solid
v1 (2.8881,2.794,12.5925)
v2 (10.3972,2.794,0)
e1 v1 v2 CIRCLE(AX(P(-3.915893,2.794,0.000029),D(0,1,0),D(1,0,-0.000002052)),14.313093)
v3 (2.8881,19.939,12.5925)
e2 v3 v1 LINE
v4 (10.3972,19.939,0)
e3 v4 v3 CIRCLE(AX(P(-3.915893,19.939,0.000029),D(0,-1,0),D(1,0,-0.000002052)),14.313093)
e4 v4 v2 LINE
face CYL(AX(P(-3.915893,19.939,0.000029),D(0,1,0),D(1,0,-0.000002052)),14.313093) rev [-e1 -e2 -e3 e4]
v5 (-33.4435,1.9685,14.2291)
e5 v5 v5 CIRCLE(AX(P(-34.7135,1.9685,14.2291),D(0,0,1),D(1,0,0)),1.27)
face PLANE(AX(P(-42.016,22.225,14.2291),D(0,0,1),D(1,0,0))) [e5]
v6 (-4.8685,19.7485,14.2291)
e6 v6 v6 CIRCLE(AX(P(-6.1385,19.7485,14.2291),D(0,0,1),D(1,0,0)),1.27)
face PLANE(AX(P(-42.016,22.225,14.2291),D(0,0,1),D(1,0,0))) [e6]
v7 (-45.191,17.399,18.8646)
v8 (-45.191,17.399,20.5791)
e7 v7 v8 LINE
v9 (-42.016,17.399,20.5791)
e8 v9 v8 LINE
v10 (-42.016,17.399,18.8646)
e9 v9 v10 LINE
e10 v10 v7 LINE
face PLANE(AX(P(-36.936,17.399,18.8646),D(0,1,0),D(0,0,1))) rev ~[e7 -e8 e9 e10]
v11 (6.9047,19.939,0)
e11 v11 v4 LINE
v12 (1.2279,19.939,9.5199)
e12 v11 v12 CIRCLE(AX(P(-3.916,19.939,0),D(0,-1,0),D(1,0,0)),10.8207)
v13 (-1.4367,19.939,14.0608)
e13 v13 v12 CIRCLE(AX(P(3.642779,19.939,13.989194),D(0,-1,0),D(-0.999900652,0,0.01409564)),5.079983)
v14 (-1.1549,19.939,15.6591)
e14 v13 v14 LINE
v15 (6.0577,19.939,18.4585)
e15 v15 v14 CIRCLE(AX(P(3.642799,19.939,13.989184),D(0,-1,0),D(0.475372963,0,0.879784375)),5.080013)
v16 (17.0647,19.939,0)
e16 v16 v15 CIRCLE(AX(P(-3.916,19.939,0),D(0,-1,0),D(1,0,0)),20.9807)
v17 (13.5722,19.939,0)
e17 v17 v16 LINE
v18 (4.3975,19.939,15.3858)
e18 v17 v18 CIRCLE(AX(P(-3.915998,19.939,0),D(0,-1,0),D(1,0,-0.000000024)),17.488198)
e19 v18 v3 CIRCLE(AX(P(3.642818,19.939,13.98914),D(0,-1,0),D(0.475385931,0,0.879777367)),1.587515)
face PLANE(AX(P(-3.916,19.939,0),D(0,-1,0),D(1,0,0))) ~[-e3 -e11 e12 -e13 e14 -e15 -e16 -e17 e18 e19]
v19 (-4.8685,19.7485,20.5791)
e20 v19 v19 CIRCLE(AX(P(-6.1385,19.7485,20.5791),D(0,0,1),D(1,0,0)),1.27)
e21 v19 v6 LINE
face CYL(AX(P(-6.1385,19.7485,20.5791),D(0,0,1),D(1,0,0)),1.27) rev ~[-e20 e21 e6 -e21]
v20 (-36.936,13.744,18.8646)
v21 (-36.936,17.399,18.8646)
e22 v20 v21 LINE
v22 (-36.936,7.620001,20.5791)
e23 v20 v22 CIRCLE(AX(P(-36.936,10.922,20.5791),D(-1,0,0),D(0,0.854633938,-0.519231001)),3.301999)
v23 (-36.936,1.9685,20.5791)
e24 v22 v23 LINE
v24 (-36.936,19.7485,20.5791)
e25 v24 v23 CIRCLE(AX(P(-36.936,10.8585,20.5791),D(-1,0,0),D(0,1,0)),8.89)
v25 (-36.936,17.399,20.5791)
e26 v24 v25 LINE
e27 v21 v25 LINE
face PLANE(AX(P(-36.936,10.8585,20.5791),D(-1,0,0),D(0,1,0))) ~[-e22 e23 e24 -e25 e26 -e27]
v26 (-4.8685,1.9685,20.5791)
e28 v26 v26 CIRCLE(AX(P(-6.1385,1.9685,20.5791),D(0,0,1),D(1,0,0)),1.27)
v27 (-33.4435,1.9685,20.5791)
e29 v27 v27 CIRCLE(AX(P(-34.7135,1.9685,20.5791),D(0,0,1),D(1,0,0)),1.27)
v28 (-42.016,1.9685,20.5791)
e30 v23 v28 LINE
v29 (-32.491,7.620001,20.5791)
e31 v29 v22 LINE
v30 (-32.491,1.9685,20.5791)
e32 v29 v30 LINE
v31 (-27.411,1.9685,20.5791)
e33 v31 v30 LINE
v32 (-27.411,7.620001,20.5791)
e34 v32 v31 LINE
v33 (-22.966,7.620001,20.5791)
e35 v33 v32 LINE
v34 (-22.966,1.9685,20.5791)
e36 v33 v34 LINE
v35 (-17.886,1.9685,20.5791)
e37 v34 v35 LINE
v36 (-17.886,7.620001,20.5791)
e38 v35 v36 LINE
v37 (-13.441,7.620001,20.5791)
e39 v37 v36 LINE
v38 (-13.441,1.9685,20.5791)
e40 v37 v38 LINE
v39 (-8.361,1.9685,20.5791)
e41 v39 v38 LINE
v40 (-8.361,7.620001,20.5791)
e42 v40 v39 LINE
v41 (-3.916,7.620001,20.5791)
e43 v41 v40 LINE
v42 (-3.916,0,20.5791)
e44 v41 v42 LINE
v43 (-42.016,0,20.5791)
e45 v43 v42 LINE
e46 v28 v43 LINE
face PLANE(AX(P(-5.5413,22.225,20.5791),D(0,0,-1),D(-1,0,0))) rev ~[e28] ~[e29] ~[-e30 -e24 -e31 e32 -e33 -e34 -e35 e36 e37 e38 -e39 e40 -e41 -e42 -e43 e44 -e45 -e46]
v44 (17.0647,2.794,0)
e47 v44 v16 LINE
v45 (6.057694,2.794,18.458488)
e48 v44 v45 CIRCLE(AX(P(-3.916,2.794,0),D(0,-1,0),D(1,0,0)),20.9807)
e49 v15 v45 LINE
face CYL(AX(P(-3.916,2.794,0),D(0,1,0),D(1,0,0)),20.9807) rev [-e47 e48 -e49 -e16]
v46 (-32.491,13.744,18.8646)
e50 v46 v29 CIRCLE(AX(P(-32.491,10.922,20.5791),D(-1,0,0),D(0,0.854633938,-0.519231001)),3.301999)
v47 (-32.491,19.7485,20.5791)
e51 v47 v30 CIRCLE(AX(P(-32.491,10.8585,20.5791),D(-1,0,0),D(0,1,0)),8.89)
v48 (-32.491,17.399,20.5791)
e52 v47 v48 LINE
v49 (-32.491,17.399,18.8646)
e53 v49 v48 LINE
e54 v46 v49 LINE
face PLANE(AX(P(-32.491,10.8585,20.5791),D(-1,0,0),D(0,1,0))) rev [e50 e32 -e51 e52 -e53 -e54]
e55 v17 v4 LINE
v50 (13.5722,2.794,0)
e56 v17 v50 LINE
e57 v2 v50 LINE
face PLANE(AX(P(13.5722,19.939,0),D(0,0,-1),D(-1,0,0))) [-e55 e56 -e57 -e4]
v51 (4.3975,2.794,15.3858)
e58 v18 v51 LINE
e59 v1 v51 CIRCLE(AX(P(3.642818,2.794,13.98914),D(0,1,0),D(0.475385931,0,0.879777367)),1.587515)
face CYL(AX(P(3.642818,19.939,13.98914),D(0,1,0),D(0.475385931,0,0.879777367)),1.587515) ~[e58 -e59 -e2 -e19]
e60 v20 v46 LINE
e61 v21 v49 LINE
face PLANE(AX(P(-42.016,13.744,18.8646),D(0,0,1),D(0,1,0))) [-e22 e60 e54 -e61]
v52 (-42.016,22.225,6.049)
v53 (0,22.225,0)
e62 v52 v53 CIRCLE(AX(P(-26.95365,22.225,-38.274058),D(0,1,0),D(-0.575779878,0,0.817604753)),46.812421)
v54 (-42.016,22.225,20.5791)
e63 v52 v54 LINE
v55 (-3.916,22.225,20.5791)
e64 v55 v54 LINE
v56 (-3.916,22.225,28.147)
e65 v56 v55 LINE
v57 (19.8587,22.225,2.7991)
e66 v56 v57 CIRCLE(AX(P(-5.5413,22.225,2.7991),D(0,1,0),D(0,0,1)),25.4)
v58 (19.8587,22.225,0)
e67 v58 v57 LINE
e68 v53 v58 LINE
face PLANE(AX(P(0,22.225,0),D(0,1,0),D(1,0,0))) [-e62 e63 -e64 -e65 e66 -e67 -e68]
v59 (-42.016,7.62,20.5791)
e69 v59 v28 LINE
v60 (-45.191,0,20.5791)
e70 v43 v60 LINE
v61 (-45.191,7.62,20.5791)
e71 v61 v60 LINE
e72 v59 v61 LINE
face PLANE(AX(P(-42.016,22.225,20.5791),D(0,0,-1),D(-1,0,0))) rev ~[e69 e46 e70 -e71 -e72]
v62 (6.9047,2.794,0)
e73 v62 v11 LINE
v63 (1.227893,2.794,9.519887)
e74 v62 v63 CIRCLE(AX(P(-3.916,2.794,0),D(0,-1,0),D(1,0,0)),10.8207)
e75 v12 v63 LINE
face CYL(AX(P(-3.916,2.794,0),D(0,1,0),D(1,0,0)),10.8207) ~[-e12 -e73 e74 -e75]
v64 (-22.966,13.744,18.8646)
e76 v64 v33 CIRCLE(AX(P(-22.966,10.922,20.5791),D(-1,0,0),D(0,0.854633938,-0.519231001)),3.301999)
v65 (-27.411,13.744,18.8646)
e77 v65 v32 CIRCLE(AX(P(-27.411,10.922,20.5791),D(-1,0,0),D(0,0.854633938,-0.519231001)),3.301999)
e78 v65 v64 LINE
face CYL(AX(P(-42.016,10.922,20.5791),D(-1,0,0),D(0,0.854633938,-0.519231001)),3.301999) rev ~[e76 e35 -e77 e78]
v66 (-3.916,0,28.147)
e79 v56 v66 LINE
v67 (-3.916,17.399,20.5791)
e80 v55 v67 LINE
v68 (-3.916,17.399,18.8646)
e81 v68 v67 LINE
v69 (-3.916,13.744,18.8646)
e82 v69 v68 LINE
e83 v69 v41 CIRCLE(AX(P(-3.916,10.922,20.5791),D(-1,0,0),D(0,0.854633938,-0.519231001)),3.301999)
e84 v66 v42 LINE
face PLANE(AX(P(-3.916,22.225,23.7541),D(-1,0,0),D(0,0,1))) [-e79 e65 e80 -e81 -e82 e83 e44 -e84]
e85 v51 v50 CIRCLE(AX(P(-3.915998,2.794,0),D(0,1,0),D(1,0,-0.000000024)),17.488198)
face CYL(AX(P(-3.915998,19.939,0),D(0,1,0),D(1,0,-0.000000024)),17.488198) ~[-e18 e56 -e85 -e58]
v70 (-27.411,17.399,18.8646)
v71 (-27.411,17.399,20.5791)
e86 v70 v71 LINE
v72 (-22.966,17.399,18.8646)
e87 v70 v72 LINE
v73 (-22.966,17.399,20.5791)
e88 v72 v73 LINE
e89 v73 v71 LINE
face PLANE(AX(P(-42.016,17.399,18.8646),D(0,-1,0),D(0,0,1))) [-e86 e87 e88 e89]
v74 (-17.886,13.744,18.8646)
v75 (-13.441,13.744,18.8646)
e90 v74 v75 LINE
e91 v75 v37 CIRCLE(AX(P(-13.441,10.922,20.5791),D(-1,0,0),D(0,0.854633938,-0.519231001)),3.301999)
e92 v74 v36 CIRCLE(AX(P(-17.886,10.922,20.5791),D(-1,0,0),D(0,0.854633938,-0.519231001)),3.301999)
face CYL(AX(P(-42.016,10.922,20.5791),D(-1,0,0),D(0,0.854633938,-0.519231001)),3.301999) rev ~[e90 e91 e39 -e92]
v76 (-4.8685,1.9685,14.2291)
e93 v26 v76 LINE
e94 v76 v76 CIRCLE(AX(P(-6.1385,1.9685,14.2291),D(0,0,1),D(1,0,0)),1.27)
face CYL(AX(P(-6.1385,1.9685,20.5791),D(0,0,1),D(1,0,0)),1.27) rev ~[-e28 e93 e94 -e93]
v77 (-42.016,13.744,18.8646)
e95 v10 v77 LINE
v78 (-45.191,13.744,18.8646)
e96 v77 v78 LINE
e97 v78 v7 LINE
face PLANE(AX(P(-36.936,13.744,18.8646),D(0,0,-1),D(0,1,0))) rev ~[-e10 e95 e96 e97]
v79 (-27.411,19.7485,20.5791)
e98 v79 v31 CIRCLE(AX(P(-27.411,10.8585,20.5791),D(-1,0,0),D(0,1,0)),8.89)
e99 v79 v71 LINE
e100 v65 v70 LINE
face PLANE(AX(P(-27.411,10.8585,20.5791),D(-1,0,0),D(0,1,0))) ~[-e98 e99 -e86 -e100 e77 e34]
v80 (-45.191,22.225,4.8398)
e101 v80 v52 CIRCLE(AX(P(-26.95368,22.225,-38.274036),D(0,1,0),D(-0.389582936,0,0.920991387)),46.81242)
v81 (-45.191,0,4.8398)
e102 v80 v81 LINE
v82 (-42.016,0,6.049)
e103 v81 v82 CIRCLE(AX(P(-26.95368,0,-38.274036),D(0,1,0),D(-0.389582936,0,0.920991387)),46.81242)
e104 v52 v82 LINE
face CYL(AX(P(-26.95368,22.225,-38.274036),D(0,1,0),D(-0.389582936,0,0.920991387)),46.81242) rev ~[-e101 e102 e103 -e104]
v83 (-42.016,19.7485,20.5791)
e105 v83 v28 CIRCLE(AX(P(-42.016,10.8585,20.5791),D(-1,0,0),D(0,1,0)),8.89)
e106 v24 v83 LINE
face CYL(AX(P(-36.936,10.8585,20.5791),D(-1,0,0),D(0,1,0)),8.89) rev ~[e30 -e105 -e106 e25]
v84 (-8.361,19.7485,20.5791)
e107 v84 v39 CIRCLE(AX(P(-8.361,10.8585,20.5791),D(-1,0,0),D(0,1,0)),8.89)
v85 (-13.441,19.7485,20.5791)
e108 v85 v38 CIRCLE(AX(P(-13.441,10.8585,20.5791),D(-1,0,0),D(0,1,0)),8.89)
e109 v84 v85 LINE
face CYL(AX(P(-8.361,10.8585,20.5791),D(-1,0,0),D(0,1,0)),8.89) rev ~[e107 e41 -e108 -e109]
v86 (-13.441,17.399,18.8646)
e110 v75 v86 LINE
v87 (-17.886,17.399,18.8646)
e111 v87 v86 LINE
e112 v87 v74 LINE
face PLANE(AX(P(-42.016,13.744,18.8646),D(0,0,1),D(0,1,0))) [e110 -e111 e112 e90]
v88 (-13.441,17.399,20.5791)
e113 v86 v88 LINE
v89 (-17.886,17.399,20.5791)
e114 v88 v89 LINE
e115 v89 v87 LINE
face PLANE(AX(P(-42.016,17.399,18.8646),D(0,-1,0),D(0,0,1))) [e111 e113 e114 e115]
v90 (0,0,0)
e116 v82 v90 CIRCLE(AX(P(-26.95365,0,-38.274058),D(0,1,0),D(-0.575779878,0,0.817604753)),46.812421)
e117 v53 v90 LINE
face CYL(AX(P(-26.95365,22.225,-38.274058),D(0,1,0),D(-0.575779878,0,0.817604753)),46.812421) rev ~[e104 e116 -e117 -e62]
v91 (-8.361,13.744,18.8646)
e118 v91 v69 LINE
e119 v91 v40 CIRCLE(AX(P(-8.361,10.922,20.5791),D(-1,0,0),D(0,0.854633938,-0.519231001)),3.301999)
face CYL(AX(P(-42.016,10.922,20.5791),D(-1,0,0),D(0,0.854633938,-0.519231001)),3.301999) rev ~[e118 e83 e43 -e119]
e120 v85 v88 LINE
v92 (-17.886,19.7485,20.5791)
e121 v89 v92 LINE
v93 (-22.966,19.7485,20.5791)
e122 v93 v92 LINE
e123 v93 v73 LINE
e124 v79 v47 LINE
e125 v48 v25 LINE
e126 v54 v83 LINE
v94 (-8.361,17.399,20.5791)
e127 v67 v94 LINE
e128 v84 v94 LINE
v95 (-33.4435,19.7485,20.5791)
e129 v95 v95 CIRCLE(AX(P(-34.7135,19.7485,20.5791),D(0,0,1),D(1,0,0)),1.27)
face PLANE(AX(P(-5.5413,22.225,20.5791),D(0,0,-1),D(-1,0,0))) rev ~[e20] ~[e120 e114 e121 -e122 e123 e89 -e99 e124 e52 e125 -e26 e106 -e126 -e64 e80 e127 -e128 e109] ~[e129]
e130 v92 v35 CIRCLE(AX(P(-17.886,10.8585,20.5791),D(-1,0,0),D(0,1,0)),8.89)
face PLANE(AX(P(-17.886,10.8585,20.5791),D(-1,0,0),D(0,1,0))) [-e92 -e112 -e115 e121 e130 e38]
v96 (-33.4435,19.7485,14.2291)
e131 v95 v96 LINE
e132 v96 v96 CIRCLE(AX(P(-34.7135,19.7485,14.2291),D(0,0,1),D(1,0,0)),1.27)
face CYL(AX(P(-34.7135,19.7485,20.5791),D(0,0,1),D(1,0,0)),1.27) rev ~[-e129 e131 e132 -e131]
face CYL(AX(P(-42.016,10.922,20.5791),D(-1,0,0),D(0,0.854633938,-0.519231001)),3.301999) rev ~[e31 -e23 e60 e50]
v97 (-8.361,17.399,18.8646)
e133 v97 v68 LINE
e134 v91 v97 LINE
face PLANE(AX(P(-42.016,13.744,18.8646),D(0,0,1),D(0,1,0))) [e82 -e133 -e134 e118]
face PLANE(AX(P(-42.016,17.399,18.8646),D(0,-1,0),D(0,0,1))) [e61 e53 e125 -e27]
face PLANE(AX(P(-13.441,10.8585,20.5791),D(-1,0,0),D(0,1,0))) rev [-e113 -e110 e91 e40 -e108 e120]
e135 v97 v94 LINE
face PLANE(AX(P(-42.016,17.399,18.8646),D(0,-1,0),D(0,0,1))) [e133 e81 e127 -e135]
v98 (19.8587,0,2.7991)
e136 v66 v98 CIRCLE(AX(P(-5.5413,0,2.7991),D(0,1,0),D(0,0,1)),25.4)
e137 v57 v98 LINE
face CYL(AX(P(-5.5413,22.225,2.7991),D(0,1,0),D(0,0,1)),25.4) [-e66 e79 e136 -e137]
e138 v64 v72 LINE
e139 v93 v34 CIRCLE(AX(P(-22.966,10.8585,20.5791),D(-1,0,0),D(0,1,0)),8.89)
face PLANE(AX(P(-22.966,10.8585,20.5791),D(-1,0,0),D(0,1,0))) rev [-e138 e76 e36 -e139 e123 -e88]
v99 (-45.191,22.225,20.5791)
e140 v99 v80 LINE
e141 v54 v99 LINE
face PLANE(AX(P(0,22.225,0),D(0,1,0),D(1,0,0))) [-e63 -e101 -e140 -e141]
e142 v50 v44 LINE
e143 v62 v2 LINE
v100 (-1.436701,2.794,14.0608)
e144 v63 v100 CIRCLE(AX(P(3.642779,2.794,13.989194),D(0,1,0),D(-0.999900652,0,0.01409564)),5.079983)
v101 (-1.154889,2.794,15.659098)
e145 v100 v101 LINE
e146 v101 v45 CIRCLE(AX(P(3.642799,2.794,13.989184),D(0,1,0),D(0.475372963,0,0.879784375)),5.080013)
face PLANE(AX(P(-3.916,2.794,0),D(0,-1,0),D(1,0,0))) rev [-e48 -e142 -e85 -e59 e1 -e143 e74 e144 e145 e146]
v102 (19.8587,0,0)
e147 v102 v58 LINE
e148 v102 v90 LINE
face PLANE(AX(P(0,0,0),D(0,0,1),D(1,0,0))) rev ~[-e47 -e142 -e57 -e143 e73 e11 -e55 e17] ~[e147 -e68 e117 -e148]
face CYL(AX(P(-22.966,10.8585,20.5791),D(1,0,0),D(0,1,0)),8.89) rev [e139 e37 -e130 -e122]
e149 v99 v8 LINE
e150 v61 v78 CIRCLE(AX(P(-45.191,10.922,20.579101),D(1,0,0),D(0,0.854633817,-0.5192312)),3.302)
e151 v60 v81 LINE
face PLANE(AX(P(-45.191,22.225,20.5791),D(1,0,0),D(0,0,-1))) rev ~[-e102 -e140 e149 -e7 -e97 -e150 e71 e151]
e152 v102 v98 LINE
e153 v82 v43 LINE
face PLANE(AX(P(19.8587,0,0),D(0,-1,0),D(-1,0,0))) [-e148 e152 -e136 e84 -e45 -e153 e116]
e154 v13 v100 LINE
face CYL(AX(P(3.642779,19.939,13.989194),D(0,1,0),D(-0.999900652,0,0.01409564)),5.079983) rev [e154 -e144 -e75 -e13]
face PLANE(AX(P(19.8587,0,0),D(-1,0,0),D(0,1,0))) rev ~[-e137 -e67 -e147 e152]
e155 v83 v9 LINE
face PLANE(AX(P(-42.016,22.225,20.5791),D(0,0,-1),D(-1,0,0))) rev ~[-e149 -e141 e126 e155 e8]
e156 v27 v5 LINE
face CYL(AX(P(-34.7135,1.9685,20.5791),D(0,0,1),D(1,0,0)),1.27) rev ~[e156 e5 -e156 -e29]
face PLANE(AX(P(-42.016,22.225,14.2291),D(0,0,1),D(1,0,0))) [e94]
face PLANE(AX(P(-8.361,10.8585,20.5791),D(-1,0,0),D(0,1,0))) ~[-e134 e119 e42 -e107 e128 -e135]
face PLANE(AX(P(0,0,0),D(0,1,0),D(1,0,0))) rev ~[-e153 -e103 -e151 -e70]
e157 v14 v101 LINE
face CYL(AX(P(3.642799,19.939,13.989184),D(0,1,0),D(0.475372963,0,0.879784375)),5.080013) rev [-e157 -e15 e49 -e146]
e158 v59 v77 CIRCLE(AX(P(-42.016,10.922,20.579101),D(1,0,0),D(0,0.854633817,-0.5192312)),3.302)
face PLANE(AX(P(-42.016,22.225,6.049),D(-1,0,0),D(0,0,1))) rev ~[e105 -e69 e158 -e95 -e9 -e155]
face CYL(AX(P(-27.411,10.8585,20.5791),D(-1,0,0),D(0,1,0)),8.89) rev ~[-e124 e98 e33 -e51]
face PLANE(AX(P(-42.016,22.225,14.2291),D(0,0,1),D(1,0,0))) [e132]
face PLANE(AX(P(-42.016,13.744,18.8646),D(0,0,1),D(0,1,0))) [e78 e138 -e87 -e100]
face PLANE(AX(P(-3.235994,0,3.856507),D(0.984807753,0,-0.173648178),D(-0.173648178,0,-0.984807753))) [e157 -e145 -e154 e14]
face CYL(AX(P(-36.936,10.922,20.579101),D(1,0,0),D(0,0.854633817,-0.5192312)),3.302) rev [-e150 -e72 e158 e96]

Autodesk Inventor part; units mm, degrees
ref_plane "YZ Plane" through (0, 0, 0) normal (1, 0, 0) x (0, 1, 0)
ref_plane "XZ Plane" through (0, 0, 0) normal (0, 1, 0) x (-1, 0, 0)
sketch "Sketch1" plane through (0, 0, 0) normal (0, 0, 1) x (1, 0, 0)
  circle A0 centre (12.2387, 16.51) radius 2.54 projected
  line L0 (19.8587, 0) -> (0, 0) projected
  line L1 (19.8587, 0) -> (19.8587, 22.225) projected
  line L2 (0, 22.225) -> (19.8587, 22.225) projected
  line L3 (0, 0) -> (0, 22.225) projected
  line L4 (-42.016, 22.225) -> (-42.016, 0) projected
  line L5 (-42.016, 22.225) -> (19.8587, 22.225)
  line L6 (19.8587, 22.225) -> (19.8587, 0)
  line L7 (19.8587, 0) -> (-42.016, 0)
  line L8 (-42.016, 0) -> (-42.016, 22.225)
ref_plane "Work Plane1" through (-48.366, 22.225, 28.1991) normal (0, 0, 1) x (1, 0, 0)
extrude "Extrusion1" add sketch "Sketch1" along normal up to surface (28.1991 mm away) contours A0 | L0 L3 L2 L1 | L7 L4 L5 L3
sketch "Sketch6" plane through (-42.016, 22.225, 0) normal (0, 1, 0) x (1, 0, 0)
  arc A0 (36.4747, -28.1991) -> (61.8747, -2.7991) centre (36.4747, -2.7991) ccw projected
  arc A1 (-11.8913, 0) -> (42.016, 0) centre (15.0623, 38.2739) ccw projected
  line L0 (0, -17.4041) -> (38.1, -17.4041)
  line L1 (0, 0) -> (0, -28.1991) projected
  line L2 (0, -6.049) -> (0, 0)
  line L3 (0, 0) -> (42.016, 0)
  line L4 (61.8747, 0) -> (61.8747, -28.1991) projected
  line L5 (61.8747, -2.7991) -> (61.8747, -28.1991)
  line L6 (61.8747, -28.1991) -> (36.4747, -28.1991)
  line L7 (38.1, -17.4041) -> (38.1, -28.147)
  line L8 (0, -17.4041) -> (0, -6.049)
  line L9 (61.8747, -28.1991) -> (0, -28.1991) projected
  line L10 (38.1, -28.1991) -> (36.4747, -28.1991)
  line L11 (38.1, -17.4041) -> (0, -17.4041)
  line L12 (0, -17.4041) -> (0, -28.1991)
  line L13 (0, -28.1991) -> (38.1, -28.1991)
  line L14 (38.1, -28.1991) -> (38.1, -17.4041)
  line L15 (0, -23.7541) -> (38.1, -23.7541)
  line L16 (0, -28.1991) -> (38.9215, -28.2018)
  line L17 (38.9215, -28.2018) -> (38.9212, -28.1991)
  line L18 (36.4747, -20.5791) -> (38.1, -20.5791)
  line L19 (36.4747, -20.5791) -> (0, -20.5791)
extrude "Extrusion6" cut sketch "Sketch6" against normal through all contours L9 L1 L15 L7 A0 | A0 L14 L6 | L6 L17 L16 L9 | L1 L3 A1 | A0 L4 L6 L14 | L15 L1 L19 L18 L7
sketch "Sketch7" plane through (-42.016, 0, 6.049) normal (-1, 0, 0) x (0, 0, 1)
  line L0 (16.1176, 18.669) -> (12.9426, 18.669) projected
  circle A0 centre (14.5301, 10.922) radius 3.175 projected
  arc A1 (12.8156, 13.744) -> (16.2446, 13.744) centre (14.5301, 10.922) ccw
  line L1 (16.2446, 18.796) -> (16.2446, 10.795)
  line L2 (16.2446, 10.795) -> (12.8156, 10.795)
  line L3 (12.8156, 10.795) -> (12.8156, 18.796)
  line L4 (12.8156, 17.399) -> (16.2446, 17.399)
  point P0 (-6.049, 0)
  dimension "d31" = 6.604
  dimension "d35" = 6.477
extrude "Extrusion7" cut sketch "Sketch7" against normal blind 38.1
sketch "Sketch8" plane through (-42.016, 0, 20.5791) normal (0, 0, 1) x (1, 0, 0)
  line L0 (0, 14.097) -> (33.655, 14.097)
  line L1 (38.1, 7.62) -> (0, 7.62) projected
  line L2 (0, 14.097) -> (0, 7.62)
  line L3 (0, 13.744) -> (38.1, 13.744) projected
  line L4 (0, 22.225) -> (0, 0) projected
  line L5 (38.1, 10.8585) -> (0, 10.8585)
  line L6 (9.525, 13.6716) -> (5.08, 13.6716) projected
  line L7 (9.525, 13.6716) -> (9.525, 17.272) projected
  line L8 (9.525, 17.272) -> (5.08, 17.272) projected
  line L9 (5.08, 17.272) -> (5.08, 13.6716) projected
  line L10 (19.05, 13.6716) -> (14.605, 13.6716) projected
  line L11 (19.05, 13.6716) -> (19.05, 17.272) projected
  line L12 (19.05, 17.272) -> (14.605, 17.272) projected
  line L13 (14.605, 17.272) -> (14.605, 13.6716) projected
  line L14 (28.575, 13.6716) -> (24.13, 13.6716) projected
  line L15 (28.575, 13.6716) -> (28.575, 17.272) projected
  line L16 (28.575, 17.272) -> (24.13, 17.272) projected
  line L17 (24.13, 17.272) -> (24.13, 13.6716) projected
  line L18 (38.1, 13.6716) -> (33.655, 13.6716) projected
  line L19 (38.1, 13.6716) -> (38.1, 17.272) projected
  line L20 (38.1, 17.272) -> (33.655, 17.272) projected
  line L21 (33.655, 17.272) -> (33.655, 13.6716) projected
  line L22 (0, 10.8585) -> (5.08, 10.8585)
  line L23 (5.08, 10.8585) -> (5.08, 19.7485)
  line L24 (5.08, 19.7485) -> (0, 19.7485)
  line L25 (0, 19.7485) -> (0, 10.8585)
  line L26 (9.525, 10.8585) -> (14.605, 10.8585)
  line L27 (14.605, 10.8585) -> (14.605, 19.7485)
  line L28 (14.605, 19.7485) -> (9.525, 19.7485)
  line L29 (9.525, 19.7485) -> (9.525, 10.8585)
  line L30 (19.05, 19.7485) -> (24.13, 19.7485)
  line L31 (24.13, 19.7485) -> (24.13, 10.8585)
  line L32 (24.13, 10.8585) -> (19.05, 10.8585)
  line L33 (19.05, 10.8585) -> (19.05, 19.7485)
  line L34 (28.575, 10.8585) -> (33.655, 10.8585)
  line L35 (33.655, 10.8585) -> (33.655, 19.7485)
  line L36 (33.655, 19.7485) -> (28.575, 19.7485)
  line L37 (28.575, 19.7485) -> (28.575, 10.8585)
  point P0 (42.016, 0)
  dimension "d36" = 8.89
revolve "Revolution2" cut sketch "Sketch8" angle 360 about axis through (-3.916, 10.8585, 20.5791) along (-1, 0, 0) contours L4 L24 L23 L9 L0 | L0 L9 L3 L2 | L3 L9 L23 L5 L2 | L7 L29 L28 L27 L13 L0 | L0 L13 L3 L7 | L3 L13 L27 L5 L29 L7 | L11 L33 L30 L31 L17 L0 | L0 L17 L3 L11 | L3 L17 L31 L5 L33 L11 | L15 L37 L36 L35 L21 L0 | L0 L21 L3 L15 | L3 L21 L35 L5 L37 L15
sketch "Sketch9" plane through (-42.016, 22.225, 20.5791) normal (0, 0, 1) x (1, 0, 0)
  line L0 (19.05, -4.826) -> (19.05, -2.4765) projected
  line L1 (19.05, -2.4765) -> (24.13, -2.4765) projected
  line L2 (24.13, -2.4765) -> (24.13, -4.826) projected
  line L3 (24.13, -4.826) -> (28.575, -4.826) projected
  line L4 (28.575, -4.826) -> (28.575, -2.4765) projected
  line L5 (28.575, -2.4765) -> (33.655, -2.4765) projected
  line L6 (33.655, -2.4765) -> (33.655, -4.826) projected
  line L7 (33.655, -4.826) -> (38.1, -4.826) projected
  line L8 (38.1, 0) -> (38.1, -4.826) projected
  line L9 (0, 0) -> (38.1, 0) projected
  line L10 (0, -2.4765) -> (0, 0) projected
  line L11 (0, -2.4765) -> (5.08, -2.4765) projected
  line L12 (5.08, -2.4765) -> (5.08, -4.826) projected
  line L13 (5.08, -4.826) -> (9.525, -4.826) projected
  line L14 (9.525, -4.826) -> (9.525, -2.4765) projected
  line L15 (9.525, -2.4765) -> (14.605, -2.4765) projected
  line L16 (14.605, -2.4765) -> (14.605, -4.826) projected
  line L17 (14.605, -4.826) -> (19.05, -4.826) projected
  circle A0 centre (7.3025, -2.4765) radius 1.27
  line L18 (19.05, -20.2565) -> (19.05, -14.605) projected
  line L19 (19.05, -14.605) -> (14.605, -14.605) projected
  line L20 (14.605, -14.605) -> (14.605, -20.2565) projected
  line L21 (14.605, -20.2565) -> (9.525, -20.2565) projected
  line L22 (9.525, -20.2565) -> (9.525, -14.605) projected
  line L23 (9.525, -14.605) -> (5.08, -14.605) projected
  line L24 (5.08, -14.605) -> (5.08, -20.2565) projected
  line L25 (5.08, -20.2565) -> (0, -20.2565) projected
  line L26 (0, -22.225) -> (0, -20.2565) projected
  line L27 (38.1, -22.225) -> (0, -22.225) projected
  line L28 (38.1, -14.605) -> (38.1, -22.225) projected
  line L29 (38.1, -14.605) -> (33.655, -14.605) projected
  line L30 (33.655, -14.605) -> (33.655, -20.2565) projected
  line L31 (33.655, -20.2565) -> (28.575, -20.2565) projected
  line L32 (28.575, -20.2565) -> (28.575, -14.605) projected
  line L33 (28.575, -14.605) -> (24.13, -14.605) projected
  line L34 (24.13, -14.605) -> (24.13, -20.2565) projected
  line L35 (24.13, -20.2565) -> (19.05, -20.2565) projected
  circle A1 centre (35.8775, -20.2565) radius 1.27
  circle A2 centre (35.8775, -2.4765) radius 1.27
  circle A3 centre (7.3025, -20.2565) radius 1.27
  point P0 (42.016, -22.225)
  dimension "d38" = 2.54
  dimension "d39" = 2.54
  dimension "d40" = 2.54
  dimension "d41" = 2.54
extrude "Extrusion8" cut sketch "Sketch9" against normal blind 6.35 contours A0 | A1 | A2 | A3
sketch "Sketch10" plane through (0, 22.225, 0) normal (0, 1, 0) x (1, 0, 0)
  arc A0 (-42.016, -6.049) -> (0, 0) centre (-26.9537, 38.2739) ccw projected
  line L0 (-42.016, -6.049) -> (-42.016, -20.5791) projected
  line L1 (-42.016, -20.5791) -> (-3.916, -20.5791) projected
  line L2 (-3.916, -20.5791) -> (-3.916, -28.147) projected
  arc A1 (-3.916, -28.147) -> (19.8587, -2.7991) centre (-5.5413, -2.7991) ccw projected
  line L3 (19.8587, 0) -> (19.8587, -2.7991) projected
  line L4 (19.8587, 0) -> (0, 0) projected
  line L5 (0, 0) -> (19.8587, 0) projected
  arc A2 (-45.191, -4.8398) -> (0, 0) centre (-26.9537, 38.2739) ccw
  line L6 (-42.016, -20.5791) -> (-45.191, -20.5791)
  line L7 (-45.191, -20.5791) -> (-45.191, -4.8398)
  line L8 (-42.016, -6.049) -> (-42.016, -20.5791)
extrude "Extrusion9" add sketch "Sketch10" against normal up to surface (22.225 mm away) contours L0 L6 L7 A2
sketch "Sketch11" plane through (-36.936, 1.9685, 20.5791) normal (-1, 0, 0) x (0, 0, 1)
  line L0 (-1.7145, 15.4305) -> (0, 15.4305) projected
  line L1 (0, 19.05) -> (0, 16.51) projected
  line L2 (0, 20.2565) -> (0, 15.4305) projected
  line L3 (7.5679, 20.2565) -> (-17.78, 20.2565) projected
  line L4 (-1.7145, 11.7755) -> (-1.7145, 15.4305) projected
  arc A0 (-1.7145, 11.7755) -> (0, 5.6515) centre (0, 8.9535) ccw projected
  line L5 (0, 0) -> (0, 5.6515) projected
  line L6 (0, 1.27) -> (0, -1.27) projected
  line L7 (0, 5.6515) -> (0, -1.9685) projected
  arc A1 (0, 17.78) -> (0, 0) centre (0, 8.89) ccw projected
  line L8 (-1.7145, 15.4305) -> (0, 15.4305) projected
  line L9 (0, 15.4305) -> (0, 5.6515)
  point P0 (-20.5791, -1.9685)
extrude "Extrusion10" cut sketch "Sketch11" along normal through all contours L0 L9 A0 L4
sketch "Sketch12" plane through (0, 0, 0) normal (0, 0, -1) x (-1, 0, 0)
  circle A0 centre (-12.2387, 16.51) radius 2.54
  circle A1 centre (-12.2387, 16.51) radius 2.54
  line L0 (0.9001, 2.794) -> (-17.0647, 2.794)
  line L1 (0.9001, 2.794) -> (0.9001, 22.225)
  line L2 (-17.0647, 22.225) -> (0.9001, 22.225)
  line L3 (-17.0647, 2.794) -> (-17.0647, 22.225)
  line L4 (60.812, 2.794) -> (60.812, 18.669)
  line L5 (60.812, 18.669) -> (51.9355, 18.669)
  line L6 (51.9355, 18.669) -> (51.9355, 2.794)
  line L7 (70.972, 2.794) -> (60.812, 2.794)
  line L8 (-17.0647, 2.794) -> (-6.9047, 2.794)
  line L9 (-6.9047, 2.794) -> (-6.9047, 19.939)
  line L10 (-6.9047, 19.939) -> (-17.0647, 19.939)
  line L11 (-17.0647, 19.939) -> (-17.0647, 2.794)
  line L12 (3.916, 0) -> (3.916, 22.225)
  point P0 (0, 0)
revolve "Revolution3" cut sketch "Sketch12" angle 80 about axis through (-3.916, 0, 0) along (0, -1, 0) contours A0 | L0 L3 L10 L9
sketch "Sketch13" plane through (6.9047, 19.939, 0) normal (0, -1, 0) x (1, 0, 0)
  arc A0 (10.16, 0) -> (-7.1774, 20.6619) centre (-10.8207, 0) ccw projected
  line L0 (-8.9417, 10.6563) -> (-7.1774, 20.6619) projected
  arc A1 (0, 0) -> (-8.9417, 10.6563) centre (-10.8207, 0) ccw projected
  arc A2 (-2.5072, 15.3858) -> (-4.0166, 12.5925) centre (-3.2619, 13.9892) ccw
  arc A3 (-5.6768, 9.5199) -> (-8.9417, 10.6563) centre (-10.8207, 0) ccw
  arc A4 (-0.847, 18.4585) -> (-7.1774, 20.6619) centre (-10.8207, 0) ccw
  line L1 (-7.1774, 20.6619) -> (-8.9417, 10.6563)
  arc A5 (-0.847, 18.4585) -> (-8.0596, 15.6591) centre (-3.2619, 13.9892) ccw
  arc A6 (-8.3414, 14.0608) -> (-5.6768, 9.5199) centre (-3.2619, 13.9892) ccw
  arc A7 (-0.847, 18.4585) -> (-8.0596, 15.6591) centre (-3.2619, 13.9892) ccw
  arc A8 (-8.3414, 14.0608) -> (-5.6768, 9.5199) centre (-3.2619, 13.9892) ccw
  arc A9 (6.6675, 0) -> (-2.5072, 15.3858) centre (-10.8207, 0) ccw
  arc A10 (3.4925, 0) -> (-4.0166, 12.5925) centre (-10.8207, 0) ccw
  line L2 (6.6675, 0) -> (3.4925, 0)
  line L3 (-6.9047, 0) -> (12.954, 0) projected
  dimension "d52" = 3.175
extrude "Extrusion11" add sketch "Sketch13" along normal up to next contours A5 L0 A0 | L2 A10 A2 A9 | A6 A1 L0
chamfer "Chamfer1" [suppressed]
fillet "Fillet1" [suppressed]
fillet "Fillet2" [suppressed]
properties part number "final lock housing back"
